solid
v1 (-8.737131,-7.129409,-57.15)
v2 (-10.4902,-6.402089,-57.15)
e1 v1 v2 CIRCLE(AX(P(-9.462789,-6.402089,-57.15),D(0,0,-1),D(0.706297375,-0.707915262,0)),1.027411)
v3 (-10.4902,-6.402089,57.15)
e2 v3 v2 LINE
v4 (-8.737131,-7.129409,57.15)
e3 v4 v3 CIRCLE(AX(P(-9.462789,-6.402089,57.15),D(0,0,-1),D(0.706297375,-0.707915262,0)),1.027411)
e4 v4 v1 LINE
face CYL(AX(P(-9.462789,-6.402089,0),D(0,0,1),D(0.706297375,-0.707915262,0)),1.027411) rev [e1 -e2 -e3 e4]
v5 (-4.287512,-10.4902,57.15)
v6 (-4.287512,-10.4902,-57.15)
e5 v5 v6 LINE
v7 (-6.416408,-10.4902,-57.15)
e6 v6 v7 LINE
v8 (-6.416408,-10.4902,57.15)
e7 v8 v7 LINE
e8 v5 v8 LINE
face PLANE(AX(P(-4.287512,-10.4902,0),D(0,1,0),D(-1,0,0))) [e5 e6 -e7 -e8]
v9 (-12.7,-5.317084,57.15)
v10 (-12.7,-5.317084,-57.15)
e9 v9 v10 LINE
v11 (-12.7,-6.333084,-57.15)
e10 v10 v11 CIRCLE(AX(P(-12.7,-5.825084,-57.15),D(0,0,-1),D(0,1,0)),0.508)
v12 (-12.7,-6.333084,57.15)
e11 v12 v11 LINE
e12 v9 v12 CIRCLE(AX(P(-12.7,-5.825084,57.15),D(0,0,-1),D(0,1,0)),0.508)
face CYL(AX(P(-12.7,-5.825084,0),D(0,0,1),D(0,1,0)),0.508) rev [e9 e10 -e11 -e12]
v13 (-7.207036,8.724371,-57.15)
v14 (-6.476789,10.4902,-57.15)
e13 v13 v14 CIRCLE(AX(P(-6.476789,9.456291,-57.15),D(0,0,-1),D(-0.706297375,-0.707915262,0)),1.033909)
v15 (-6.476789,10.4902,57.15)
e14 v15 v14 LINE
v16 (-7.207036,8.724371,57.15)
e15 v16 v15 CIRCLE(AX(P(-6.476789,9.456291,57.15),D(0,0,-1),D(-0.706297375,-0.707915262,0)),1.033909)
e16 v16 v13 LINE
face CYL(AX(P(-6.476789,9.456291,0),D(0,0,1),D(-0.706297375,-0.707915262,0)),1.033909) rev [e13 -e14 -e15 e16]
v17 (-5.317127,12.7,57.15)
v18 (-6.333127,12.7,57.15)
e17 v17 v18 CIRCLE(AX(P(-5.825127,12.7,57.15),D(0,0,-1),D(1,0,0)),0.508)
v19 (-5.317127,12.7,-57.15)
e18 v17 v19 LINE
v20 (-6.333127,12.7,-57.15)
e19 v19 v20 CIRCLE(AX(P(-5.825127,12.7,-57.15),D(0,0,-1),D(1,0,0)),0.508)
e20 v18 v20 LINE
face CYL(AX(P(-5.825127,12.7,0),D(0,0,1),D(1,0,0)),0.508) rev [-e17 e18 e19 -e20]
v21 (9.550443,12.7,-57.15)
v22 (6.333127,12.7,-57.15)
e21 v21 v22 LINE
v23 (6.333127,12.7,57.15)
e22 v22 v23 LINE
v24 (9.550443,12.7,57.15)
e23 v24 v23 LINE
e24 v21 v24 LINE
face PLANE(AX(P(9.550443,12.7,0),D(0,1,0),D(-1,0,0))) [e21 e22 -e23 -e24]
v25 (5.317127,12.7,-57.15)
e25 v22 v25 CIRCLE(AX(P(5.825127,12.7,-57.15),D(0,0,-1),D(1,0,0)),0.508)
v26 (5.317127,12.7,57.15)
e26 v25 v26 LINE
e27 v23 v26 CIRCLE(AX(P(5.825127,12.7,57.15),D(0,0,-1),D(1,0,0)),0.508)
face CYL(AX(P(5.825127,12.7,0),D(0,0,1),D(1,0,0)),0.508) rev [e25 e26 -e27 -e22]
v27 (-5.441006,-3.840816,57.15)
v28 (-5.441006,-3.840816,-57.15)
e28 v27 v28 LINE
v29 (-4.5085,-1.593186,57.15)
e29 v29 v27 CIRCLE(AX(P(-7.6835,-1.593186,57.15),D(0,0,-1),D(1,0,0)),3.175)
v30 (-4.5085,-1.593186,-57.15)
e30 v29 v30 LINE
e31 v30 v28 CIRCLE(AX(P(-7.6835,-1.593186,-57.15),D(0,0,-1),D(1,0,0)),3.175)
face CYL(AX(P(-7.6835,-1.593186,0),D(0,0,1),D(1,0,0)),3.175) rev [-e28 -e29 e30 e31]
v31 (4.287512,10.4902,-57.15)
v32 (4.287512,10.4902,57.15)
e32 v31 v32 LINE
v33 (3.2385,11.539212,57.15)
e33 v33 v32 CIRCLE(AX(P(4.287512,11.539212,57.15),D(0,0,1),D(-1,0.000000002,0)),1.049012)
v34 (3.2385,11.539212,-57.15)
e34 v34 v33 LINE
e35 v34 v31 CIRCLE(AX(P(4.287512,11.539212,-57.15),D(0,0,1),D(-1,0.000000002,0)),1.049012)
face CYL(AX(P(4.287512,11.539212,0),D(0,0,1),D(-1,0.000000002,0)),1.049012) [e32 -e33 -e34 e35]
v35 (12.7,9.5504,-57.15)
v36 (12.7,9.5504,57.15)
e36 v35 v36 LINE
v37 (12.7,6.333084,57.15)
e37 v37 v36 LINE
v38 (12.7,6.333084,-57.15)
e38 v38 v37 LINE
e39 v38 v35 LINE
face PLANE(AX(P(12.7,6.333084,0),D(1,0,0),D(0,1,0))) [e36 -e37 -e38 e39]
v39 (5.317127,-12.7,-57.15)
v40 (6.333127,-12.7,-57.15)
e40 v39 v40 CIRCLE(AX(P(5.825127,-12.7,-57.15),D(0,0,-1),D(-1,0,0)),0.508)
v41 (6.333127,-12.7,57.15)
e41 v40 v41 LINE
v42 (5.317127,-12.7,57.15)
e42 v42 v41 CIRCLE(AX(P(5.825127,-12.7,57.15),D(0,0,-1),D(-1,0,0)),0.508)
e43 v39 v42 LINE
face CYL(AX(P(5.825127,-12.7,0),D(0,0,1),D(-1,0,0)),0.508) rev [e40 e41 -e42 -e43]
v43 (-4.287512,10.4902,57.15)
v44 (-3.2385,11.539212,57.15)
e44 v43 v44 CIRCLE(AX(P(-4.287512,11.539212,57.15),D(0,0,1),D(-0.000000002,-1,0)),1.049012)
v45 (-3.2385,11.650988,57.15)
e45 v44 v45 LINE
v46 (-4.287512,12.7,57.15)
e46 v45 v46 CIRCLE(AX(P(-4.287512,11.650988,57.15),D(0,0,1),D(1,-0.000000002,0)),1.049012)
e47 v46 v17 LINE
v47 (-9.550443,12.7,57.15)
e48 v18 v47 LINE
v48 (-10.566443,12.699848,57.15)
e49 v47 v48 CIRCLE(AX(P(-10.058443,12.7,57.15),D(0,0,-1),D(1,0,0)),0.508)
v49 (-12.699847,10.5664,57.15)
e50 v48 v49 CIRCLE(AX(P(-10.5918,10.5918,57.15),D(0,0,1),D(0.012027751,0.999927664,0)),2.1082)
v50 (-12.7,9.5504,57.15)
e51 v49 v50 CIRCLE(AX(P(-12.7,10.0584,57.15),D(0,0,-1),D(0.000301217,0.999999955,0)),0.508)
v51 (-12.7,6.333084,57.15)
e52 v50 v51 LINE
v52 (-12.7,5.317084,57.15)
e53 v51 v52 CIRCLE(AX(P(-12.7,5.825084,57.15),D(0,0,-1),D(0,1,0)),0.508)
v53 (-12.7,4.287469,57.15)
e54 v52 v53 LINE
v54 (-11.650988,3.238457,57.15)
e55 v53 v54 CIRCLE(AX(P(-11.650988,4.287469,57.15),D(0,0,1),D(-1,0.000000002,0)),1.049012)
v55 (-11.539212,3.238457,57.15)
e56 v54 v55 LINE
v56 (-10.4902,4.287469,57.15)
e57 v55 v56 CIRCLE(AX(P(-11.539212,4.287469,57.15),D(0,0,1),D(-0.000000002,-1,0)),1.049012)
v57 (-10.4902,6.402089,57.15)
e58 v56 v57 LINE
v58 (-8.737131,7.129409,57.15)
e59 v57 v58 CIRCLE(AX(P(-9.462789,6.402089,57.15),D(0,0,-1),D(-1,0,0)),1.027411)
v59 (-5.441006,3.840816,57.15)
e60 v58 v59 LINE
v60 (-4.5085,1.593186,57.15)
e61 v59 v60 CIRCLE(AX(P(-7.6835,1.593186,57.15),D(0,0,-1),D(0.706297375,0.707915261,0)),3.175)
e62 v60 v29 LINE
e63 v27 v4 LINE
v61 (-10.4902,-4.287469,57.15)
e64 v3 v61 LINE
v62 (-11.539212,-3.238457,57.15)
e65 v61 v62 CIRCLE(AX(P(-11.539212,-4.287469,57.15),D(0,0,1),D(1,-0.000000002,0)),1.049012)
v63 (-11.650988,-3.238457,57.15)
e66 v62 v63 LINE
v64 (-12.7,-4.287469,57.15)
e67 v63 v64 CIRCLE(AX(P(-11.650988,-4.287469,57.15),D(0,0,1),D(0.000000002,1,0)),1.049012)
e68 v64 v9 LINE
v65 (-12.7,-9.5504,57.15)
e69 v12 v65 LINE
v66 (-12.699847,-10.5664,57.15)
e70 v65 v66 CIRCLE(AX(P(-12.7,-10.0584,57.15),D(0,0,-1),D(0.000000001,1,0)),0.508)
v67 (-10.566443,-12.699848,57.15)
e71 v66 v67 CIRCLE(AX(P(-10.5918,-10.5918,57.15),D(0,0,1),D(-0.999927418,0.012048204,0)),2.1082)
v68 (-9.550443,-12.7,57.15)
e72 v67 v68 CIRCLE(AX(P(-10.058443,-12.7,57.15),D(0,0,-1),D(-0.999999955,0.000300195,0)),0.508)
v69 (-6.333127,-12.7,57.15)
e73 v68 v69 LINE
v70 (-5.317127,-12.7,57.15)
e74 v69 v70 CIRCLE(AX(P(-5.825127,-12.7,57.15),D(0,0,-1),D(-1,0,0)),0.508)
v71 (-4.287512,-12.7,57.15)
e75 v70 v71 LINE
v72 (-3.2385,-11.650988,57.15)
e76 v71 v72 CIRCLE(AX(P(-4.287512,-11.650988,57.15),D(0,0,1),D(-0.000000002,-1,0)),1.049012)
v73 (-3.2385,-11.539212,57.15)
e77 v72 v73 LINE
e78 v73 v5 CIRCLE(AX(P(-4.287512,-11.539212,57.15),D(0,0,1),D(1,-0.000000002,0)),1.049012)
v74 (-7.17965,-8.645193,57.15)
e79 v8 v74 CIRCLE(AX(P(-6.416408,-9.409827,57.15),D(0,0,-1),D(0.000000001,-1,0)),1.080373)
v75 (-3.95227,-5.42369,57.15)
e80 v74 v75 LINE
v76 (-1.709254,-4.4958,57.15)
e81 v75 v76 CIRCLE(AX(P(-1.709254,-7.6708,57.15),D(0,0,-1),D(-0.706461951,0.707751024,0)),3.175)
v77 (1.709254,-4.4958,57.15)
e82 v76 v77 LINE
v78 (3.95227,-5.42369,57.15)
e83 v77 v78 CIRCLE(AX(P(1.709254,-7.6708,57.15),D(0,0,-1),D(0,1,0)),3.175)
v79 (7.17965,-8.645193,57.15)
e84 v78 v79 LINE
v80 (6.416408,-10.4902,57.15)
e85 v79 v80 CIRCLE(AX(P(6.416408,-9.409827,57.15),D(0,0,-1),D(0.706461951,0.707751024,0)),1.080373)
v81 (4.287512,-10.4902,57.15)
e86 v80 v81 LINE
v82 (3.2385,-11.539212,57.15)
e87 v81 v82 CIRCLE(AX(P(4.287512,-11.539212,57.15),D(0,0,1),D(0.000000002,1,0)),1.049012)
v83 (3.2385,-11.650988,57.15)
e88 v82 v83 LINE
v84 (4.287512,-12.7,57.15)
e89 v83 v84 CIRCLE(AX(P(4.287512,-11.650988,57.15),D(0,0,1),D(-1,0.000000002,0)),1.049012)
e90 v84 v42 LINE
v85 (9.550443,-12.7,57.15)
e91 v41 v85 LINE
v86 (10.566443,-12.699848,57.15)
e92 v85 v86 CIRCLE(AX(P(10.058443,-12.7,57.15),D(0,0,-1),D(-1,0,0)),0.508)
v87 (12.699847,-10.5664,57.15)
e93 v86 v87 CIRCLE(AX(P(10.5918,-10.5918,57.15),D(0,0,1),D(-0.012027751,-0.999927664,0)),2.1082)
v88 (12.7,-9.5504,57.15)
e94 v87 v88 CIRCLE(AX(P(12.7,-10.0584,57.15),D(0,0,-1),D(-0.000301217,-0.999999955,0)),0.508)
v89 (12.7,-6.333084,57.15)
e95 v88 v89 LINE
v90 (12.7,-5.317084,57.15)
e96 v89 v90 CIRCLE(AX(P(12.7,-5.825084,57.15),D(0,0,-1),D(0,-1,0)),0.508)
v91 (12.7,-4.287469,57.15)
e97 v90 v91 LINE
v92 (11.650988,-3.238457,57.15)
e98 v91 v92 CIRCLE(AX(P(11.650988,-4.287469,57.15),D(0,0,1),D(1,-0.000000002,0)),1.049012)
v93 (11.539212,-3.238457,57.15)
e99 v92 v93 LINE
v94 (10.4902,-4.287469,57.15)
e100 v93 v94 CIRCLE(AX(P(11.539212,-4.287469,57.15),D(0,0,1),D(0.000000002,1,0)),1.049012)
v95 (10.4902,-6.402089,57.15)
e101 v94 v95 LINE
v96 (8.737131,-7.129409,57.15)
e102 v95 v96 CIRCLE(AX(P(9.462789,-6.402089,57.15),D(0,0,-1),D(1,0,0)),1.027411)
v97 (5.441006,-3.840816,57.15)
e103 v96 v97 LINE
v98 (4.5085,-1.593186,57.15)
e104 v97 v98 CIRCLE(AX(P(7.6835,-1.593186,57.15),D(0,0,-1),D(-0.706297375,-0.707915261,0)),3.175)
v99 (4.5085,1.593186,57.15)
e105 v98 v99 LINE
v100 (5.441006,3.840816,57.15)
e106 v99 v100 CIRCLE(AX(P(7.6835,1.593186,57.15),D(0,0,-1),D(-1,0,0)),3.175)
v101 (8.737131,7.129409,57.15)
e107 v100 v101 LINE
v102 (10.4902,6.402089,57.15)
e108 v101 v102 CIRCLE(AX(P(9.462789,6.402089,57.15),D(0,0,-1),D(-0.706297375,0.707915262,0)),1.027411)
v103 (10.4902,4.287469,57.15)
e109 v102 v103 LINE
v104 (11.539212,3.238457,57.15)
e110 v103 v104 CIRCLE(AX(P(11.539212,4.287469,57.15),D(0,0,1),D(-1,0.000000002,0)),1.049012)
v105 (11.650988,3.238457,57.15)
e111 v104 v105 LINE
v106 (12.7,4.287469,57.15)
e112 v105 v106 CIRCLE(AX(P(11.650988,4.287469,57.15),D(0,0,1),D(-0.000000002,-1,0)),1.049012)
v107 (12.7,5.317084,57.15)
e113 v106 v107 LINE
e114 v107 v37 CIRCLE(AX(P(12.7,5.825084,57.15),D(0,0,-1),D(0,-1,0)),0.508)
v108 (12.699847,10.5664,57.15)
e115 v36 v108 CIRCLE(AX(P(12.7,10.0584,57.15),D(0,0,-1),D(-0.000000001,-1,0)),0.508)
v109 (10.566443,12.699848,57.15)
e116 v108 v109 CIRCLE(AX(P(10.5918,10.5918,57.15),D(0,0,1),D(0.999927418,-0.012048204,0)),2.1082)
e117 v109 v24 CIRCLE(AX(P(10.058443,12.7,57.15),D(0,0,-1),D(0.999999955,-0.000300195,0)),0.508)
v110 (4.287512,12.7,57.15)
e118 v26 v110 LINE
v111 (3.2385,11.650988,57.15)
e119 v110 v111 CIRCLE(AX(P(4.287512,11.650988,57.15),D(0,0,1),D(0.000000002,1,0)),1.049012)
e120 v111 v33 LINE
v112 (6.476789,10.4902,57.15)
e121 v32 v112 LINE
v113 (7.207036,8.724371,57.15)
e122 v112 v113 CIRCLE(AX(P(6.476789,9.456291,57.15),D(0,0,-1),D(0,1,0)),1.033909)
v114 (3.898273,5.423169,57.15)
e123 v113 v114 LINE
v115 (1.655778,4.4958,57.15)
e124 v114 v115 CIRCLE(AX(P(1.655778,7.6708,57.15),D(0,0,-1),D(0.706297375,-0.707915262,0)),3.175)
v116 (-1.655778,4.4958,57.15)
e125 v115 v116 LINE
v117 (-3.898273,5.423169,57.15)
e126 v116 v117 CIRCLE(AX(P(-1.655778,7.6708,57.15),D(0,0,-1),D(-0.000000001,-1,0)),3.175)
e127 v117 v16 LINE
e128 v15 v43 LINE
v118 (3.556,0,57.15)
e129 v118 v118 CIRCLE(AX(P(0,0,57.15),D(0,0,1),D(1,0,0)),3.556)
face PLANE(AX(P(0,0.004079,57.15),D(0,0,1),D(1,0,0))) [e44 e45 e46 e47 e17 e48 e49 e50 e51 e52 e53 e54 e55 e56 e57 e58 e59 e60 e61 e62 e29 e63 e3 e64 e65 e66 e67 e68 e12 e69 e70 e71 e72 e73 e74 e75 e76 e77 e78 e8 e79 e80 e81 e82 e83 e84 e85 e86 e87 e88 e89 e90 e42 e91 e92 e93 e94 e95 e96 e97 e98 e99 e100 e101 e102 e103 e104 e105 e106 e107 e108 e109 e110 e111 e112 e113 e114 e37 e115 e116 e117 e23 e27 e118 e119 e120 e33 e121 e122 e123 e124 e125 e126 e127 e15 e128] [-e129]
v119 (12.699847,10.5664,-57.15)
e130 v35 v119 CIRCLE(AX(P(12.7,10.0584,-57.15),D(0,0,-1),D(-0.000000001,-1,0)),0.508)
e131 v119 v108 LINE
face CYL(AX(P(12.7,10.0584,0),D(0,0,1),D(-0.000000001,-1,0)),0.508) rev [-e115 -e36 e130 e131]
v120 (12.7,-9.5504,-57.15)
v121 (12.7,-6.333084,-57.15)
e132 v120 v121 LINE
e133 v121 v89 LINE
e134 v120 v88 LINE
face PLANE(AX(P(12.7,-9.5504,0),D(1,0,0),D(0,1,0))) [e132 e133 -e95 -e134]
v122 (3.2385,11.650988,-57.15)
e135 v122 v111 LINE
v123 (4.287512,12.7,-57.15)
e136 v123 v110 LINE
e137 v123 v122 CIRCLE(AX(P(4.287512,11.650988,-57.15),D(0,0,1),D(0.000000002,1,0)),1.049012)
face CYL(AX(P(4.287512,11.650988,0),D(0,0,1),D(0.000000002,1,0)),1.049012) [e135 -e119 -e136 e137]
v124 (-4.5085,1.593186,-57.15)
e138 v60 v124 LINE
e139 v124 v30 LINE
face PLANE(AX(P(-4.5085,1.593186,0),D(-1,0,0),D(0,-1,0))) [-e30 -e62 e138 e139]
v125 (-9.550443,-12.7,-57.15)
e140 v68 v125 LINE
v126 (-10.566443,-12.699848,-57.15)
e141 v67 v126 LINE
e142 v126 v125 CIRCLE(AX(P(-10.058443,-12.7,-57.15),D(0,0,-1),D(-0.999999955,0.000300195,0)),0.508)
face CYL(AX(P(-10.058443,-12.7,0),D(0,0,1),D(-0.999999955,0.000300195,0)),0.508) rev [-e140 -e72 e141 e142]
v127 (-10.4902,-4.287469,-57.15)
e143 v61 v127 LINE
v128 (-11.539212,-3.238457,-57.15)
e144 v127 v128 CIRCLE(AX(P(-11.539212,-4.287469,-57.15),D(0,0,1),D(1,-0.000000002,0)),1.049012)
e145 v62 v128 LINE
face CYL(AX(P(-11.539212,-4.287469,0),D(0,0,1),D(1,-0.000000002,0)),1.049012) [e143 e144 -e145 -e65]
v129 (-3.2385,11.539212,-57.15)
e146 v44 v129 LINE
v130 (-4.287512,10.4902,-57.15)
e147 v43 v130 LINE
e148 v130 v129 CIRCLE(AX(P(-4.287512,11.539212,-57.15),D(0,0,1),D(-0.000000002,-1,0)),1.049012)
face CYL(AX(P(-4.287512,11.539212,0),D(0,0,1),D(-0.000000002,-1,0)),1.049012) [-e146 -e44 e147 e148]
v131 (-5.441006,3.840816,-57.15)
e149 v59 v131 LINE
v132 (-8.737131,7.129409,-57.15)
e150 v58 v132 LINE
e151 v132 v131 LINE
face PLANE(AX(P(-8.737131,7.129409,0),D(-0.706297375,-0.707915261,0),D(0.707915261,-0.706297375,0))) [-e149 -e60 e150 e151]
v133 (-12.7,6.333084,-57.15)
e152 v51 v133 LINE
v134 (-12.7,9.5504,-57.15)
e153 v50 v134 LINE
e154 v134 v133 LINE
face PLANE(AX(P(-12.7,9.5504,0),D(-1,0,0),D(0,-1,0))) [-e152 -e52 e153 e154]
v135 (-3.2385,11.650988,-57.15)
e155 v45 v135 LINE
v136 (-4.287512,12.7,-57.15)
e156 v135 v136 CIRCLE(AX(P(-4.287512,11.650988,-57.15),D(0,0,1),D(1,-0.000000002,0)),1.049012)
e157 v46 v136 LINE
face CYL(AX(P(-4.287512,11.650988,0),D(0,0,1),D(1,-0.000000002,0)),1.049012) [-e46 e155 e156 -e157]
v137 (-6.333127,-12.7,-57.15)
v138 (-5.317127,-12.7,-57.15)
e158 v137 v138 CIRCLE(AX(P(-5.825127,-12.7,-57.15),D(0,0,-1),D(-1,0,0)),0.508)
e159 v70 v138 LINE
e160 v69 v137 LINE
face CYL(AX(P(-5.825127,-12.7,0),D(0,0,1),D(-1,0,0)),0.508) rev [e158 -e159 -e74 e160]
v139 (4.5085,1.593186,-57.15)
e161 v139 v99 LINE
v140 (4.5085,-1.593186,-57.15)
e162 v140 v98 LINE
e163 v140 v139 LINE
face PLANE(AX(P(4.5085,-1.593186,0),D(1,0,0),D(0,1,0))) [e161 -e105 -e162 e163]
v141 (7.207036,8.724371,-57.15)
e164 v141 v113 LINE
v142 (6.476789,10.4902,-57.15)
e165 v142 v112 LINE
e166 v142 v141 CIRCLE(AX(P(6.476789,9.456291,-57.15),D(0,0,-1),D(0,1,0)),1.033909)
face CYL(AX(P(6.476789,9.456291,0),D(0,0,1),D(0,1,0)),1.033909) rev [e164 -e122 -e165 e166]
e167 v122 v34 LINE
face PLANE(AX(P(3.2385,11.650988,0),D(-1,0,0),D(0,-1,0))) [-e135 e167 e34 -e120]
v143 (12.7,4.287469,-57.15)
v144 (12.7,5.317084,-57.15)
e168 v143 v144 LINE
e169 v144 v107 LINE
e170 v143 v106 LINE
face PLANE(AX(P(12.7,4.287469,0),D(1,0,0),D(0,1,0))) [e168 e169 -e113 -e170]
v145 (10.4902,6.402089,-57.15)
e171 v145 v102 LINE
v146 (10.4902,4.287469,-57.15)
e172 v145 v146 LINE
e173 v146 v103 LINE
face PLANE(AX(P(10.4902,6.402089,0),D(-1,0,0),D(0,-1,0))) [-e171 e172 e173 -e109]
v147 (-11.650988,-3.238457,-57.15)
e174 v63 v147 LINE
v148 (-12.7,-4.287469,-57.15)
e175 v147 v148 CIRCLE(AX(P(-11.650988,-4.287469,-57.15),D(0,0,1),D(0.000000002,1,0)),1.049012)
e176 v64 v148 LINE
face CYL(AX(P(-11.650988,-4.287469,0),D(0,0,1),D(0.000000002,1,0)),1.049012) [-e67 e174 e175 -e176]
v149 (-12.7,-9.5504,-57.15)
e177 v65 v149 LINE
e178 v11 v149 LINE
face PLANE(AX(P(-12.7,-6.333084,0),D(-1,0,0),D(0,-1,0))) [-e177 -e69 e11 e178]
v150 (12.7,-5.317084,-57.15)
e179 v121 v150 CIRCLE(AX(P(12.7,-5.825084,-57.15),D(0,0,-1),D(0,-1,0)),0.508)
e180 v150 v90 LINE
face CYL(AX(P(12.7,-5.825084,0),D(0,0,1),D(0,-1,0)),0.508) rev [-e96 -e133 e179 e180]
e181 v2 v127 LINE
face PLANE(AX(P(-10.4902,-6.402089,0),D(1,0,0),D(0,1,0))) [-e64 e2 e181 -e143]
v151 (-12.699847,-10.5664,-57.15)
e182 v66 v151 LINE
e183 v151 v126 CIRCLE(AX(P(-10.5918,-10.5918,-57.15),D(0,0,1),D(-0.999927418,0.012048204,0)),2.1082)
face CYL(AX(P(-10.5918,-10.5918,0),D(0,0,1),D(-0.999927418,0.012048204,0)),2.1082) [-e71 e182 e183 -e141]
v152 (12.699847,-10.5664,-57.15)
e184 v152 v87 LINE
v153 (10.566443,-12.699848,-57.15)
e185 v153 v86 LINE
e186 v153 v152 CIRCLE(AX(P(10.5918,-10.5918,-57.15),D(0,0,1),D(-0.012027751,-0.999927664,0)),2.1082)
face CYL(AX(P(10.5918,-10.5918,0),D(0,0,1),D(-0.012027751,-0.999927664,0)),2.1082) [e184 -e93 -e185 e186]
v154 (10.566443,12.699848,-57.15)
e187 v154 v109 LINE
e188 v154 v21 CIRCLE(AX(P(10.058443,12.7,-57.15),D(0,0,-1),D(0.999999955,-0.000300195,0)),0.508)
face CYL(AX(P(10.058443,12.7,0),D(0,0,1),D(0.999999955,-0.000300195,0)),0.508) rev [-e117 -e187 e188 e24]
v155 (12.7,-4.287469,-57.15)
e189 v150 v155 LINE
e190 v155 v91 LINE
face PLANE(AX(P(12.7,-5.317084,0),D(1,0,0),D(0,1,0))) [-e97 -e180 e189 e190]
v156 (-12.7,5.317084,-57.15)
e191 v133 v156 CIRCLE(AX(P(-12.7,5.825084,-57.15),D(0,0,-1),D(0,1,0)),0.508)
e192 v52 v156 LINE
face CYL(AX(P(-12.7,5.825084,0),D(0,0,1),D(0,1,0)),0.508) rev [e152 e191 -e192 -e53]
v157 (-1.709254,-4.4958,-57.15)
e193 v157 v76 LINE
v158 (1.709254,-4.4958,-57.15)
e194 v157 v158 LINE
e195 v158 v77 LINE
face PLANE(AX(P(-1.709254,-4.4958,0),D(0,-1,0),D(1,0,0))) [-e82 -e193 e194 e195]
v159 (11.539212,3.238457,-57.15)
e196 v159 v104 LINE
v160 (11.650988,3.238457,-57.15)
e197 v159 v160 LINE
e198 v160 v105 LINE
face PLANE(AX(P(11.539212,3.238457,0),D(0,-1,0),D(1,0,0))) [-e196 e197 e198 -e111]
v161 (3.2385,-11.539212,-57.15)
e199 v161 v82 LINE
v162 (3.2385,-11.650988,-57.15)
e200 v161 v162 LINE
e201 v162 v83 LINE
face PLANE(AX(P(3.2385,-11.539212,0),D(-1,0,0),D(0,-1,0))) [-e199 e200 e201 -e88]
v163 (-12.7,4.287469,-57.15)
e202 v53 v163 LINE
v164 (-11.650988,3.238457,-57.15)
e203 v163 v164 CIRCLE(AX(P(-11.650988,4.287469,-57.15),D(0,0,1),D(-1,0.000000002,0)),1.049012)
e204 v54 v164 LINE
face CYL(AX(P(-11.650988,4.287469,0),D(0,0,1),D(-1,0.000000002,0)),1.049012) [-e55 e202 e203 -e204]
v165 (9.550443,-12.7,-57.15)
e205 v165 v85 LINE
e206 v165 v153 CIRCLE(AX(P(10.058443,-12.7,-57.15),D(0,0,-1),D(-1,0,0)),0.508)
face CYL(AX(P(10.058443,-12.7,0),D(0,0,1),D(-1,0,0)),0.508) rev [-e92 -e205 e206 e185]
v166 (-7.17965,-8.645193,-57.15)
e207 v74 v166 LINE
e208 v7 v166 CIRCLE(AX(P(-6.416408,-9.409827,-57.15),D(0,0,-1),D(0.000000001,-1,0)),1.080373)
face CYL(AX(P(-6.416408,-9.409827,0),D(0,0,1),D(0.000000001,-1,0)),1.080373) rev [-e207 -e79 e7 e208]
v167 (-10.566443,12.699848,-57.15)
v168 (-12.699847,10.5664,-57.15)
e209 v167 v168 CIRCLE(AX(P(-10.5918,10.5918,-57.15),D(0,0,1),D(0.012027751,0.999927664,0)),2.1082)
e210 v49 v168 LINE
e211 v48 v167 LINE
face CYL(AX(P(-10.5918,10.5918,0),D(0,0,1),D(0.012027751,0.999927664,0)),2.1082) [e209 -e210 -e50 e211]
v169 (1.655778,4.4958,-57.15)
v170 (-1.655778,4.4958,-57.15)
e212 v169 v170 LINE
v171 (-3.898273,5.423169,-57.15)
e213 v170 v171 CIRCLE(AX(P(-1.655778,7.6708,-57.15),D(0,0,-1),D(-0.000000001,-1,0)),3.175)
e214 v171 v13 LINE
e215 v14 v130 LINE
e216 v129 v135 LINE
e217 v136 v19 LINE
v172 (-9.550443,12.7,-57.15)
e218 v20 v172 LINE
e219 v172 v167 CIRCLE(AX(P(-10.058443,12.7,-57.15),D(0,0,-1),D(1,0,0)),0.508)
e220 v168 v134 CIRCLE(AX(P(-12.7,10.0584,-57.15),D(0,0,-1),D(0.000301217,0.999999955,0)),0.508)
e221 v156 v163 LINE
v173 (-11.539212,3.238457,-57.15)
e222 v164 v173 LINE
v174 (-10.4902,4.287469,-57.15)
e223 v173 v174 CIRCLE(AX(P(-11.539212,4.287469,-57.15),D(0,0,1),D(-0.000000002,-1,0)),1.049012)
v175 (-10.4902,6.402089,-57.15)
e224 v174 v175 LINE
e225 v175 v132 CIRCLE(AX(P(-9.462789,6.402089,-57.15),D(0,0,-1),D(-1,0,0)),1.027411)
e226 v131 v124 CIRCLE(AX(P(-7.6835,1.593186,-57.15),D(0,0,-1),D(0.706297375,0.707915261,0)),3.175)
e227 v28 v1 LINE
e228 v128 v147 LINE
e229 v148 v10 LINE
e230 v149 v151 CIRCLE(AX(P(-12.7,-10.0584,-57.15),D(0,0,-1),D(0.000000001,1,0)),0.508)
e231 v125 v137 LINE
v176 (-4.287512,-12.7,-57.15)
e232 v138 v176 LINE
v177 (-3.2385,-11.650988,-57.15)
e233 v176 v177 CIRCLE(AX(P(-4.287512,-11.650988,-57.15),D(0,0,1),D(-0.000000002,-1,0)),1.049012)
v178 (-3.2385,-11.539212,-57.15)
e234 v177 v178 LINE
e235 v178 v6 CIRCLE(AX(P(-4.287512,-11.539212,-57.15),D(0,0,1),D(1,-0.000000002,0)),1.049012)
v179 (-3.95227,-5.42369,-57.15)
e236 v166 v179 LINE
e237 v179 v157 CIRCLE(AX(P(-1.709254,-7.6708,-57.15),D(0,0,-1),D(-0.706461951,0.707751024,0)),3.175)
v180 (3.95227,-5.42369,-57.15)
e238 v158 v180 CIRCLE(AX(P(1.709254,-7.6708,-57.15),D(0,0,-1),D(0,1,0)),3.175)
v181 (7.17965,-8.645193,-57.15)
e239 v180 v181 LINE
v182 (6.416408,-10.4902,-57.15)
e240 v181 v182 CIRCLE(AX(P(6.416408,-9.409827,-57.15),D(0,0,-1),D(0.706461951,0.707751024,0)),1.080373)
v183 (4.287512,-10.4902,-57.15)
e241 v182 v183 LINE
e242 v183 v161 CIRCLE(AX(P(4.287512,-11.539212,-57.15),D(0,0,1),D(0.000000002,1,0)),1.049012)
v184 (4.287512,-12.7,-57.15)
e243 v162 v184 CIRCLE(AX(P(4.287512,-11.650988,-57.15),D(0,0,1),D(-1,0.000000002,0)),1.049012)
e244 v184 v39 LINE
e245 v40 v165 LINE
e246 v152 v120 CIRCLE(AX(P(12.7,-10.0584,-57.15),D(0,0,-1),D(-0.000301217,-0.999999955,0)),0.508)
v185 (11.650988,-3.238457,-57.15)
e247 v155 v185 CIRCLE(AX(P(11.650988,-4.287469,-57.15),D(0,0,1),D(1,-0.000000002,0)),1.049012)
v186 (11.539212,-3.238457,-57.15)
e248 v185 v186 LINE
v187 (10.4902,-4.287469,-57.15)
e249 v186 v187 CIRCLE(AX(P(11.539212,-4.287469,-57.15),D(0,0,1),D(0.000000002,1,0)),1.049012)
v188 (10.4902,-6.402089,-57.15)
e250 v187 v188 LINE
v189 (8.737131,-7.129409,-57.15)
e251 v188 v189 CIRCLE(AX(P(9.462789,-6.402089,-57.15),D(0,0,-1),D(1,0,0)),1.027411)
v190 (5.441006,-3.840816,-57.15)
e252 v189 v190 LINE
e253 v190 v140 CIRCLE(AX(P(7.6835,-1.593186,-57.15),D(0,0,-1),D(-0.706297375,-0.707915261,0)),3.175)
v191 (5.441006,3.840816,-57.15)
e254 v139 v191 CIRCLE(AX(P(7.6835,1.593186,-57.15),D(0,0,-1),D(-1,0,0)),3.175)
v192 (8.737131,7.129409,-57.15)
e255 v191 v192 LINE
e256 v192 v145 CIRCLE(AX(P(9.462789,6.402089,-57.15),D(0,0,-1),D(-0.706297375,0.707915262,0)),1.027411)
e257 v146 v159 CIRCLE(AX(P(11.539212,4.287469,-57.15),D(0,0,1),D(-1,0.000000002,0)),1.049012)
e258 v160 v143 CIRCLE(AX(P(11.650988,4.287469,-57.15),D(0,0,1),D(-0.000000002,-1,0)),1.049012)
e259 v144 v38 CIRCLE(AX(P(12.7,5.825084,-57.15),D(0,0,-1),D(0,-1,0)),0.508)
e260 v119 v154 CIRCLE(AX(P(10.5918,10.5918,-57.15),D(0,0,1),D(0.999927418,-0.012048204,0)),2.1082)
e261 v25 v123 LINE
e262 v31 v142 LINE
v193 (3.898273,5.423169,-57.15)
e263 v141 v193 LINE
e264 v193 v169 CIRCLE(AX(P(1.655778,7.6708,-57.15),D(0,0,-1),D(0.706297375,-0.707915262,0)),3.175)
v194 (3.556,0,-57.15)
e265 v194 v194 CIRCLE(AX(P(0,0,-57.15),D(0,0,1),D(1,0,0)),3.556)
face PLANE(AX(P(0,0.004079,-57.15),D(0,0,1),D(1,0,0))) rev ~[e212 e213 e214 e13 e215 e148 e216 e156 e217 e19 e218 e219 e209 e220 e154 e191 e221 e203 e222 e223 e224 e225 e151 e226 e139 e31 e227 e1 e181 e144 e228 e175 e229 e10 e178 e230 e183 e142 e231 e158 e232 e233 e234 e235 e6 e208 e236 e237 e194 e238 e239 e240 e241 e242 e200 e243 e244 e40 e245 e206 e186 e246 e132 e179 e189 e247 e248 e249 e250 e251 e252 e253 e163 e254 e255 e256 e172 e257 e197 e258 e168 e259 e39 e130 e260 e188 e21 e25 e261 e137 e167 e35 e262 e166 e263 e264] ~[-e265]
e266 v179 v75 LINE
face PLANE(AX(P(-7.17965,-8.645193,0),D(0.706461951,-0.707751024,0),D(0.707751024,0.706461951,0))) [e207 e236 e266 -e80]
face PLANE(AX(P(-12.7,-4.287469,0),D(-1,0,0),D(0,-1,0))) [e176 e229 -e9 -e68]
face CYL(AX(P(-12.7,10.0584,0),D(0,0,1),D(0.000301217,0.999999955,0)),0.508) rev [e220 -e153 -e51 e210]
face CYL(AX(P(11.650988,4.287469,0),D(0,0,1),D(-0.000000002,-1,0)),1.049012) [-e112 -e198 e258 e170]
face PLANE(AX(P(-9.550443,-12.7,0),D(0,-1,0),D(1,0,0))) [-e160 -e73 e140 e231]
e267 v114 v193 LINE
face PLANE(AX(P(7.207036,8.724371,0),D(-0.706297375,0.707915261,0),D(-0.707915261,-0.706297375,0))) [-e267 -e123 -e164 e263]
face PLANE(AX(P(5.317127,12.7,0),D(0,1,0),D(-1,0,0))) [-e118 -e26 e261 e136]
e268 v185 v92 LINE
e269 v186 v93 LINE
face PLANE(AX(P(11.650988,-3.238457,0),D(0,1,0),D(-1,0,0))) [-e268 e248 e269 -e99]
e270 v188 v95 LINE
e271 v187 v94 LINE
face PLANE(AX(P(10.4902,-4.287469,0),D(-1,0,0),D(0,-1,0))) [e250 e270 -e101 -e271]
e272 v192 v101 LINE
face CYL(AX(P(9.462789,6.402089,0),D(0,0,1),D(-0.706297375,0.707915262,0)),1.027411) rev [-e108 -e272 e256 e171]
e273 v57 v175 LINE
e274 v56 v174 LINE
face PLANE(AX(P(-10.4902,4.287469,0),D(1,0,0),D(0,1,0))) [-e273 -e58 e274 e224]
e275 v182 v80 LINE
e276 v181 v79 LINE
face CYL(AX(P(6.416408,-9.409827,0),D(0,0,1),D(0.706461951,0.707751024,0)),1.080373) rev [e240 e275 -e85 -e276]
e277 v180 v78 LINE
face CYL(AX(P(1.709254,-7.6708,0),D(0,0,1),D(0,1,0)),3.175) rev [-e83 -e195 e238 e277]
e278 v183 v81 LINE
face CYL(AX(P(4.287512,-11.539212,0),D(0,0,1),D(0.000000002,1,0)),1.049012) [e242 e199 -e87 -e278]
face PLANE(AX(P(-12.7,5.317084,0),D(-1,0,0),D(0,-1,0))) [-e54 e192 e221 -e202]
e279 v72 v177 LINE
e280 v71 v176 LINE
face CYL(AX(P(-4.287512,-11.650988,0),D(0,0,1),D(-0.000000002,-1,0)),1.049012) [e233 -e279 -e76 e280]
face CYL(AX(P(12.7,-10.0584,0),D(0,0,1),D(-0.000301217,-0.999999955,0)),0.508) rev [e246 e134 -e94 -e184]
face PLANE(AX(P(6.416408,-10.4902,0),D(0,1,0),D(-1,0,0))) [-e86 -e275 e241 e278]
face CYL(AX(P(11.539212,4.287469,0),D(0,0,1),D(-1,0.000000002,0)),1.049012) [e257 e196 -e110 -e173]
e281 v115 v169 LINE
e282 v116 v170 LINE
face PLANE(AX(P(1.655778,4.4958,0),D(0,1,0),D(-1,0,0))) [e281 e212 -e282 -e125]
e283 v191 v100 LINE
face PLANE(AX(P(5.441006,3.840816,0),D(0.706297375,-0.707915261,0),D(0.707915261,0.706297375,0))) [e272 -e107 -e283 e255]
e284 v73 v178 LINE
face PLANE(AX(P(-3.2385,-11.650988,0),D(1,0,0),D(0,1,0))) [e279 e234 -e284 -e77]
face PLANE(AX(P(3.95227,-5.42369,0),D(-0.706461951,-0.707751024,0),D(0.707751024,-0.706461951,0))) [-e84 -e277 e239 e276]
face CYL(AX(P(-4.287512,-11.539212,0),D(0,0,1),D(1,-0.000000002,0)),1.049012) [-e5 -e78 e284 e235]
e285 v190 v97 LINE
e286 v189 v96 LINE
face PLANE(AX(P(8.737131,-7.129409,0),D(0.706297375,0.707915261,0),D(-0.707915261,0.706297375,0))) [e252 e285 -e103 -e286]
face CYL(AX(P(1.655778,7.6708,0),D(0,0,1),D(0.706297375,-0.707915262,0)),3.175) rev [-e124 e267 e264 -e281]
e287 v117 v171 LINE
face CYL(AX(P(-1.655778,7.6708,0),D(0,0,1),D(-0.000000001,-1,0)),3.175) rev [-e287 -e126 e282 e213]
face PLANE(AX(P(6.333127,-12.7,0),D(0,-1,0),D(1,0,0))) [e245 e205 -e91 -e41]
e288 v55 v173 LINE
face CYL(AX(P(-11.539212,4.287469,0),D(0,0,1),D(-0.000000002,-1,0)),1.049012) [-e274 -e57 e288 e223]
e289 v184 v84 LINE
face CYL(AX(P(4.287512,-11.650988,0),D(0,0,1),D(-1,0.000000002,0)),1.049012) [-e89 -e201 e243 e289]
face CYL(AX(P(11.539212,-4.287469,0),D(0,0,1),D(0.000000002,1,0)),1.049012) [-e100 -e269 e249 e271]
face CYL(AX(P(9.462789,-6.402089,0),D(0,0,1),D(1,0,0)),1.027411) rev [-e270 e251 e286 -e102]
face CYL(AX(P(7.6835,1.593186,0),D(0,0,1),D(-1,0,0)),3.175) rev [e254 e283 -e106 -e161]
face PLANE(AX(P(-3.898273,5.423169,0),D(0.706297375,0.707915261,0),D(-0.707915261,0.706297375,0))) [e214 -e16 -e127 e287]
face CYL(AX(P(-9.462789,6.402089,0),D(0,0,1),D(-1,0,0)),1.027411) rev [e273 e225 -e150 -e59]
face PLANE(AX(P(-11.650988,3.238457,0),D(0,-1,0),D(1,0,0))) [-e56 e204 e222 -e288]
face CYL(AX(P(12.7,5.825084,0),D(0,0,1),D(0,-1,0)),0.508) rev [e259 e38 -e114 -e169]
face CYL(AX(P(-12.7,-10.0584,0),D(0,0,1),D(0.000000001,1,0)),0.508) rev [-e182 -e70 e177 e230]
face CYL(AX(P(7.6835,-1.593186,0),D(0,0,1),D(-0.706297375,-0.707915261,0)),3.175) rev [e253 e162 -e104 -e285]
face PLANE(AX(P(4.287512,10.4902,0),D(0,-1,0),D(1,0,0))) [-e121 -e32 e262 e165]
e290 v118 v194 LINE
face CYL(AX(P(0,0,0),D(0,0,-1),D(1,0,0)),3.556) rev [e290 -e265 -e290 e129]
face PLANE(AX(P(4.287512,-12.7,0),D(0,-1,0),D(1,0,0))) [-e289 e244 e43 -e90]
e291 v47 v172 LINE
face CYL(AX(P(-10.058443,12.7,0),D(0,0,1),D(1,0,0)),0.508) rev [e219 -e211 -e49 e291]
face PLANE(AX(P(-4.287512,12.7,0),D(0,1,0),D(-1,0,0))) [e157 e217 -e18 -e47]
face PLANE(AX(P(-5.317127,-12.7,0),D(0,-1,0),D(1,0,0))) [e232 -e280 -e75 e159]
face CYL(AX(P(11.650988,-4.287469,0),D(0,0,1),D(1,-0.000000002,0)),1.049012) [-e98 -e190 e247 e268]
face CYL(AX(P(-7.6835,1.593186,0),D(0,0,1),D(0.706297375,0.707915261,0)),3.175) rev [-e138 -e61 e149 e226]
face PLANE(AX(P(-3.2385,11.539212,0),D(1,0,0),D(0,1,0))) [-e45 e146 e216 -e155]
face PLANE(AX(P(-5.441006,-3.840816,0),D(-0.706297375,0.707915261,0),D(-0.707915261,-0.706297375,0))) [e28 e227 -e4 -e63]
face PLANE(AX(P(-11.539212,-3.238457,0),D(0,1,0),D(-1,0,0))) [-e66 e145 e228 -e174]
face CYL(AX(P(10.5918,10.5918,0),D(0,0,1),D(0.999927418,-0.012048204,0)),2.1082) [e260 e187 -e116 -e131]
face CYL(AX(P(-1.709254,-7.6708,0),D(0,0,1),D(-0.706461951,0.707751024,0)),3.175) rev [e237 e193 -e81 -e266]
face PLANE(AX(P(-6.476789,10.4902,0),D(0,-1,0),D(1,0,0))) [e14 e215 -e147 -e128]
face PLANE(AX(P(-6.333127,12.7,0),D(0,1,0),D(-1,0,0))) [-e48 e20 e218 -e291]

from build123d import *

# Parameters (mm, degrees)
SKETCH1_R           = 3.556
BOSS_EXTRUDE1_DEPTH = 57.15


with BuildPart() as part:
    # Sketch1 → Boss-Extrude1 (new body, symmetric)
    with BuildSketch(Plane.XY):
        with BuildLine():
            Line((-7.179650497, -8.645192506), (-3.952270251, -5.423690499))
            ThreePointArc((-3.952270251, -5.423690499), (-2.922936451, -4.736929036), (-1.709253557, -4.4958))
            Line((-1.709253557, -4.4958), (1.709253557, -4.4958))
            ThreePointArc((1.709253557, -4.4958), (2.922936451, -4.736929036), (3.952270251, -5.423690499))
            Line((3.952270251, -5.423690499), (7.179650497, -8.645192506))
            ThreePointArc((7.179650497, -8.645192506), (7.41473083, -9.822813117), (6.416408329, -10.4902))
            Line((6.416408329, -10.4902), (4.287512407, -10.4902))
            ThreePointArc((4.287512407, -10.4902), (3.54574862, -10.79744862), (3.2385, -11.539212407))
            Line((3.2385, -11.539212407), (3.2385, -11.650987593))
            ThreePointArc((3.2385, -11.650987593), (3.54574862, -12.39275138), (4.287512407, -12.7))
            Line((4.287512407, -12.7), (5.317126718, -12.7))
            ThreePointArc((5.317126718, -12.7), (5.825126718, -12.192), (6.333126718, -12.7))
            Line((6.333126718, -12.7), (9.550443118, -12.7))
            ThreePointArc((9.550443118, -12.7), (10.058366869, -12.192000006), (10.566443095, -12.699847501))
            ThreePointArc((10.566443095, -12.699847501), (12.082537762, -12.08250727), (12.699846982, -10.566399977))
            ThreePointArc((12.699846982, -10.566399977), (12.192000006, -10.058323491), (12.7, -9.5504))
            Line((12.7, -9.5504), (12.7, -6.3330836))
            ThreePointArc((12.7, -6.3330836), (12.192, -5.8250836), (12.7, -5.3170836))
            Line((12.7, -5.3170836), (12.7, -4.287469289))
            ThreePointArc((12.7, -4.287469289), (12.39275138, -3.545705502), (11.650987593, -3.238456882))
            Line((11.650987593, -3.238456882), (11.539212407, -3.238456882))
            ThreePointArc((11.539212407, -3.238456882), (10.79744862, -3.545705502), (10.4902, -4.287469289))
            Line((10.4902, -4.287469289), (10.4902, -6.402089023))
            ThreePointArc((10.4902, -6.402089023), (9.856505071, -7.351067942), (8.737131347, -7.129408934))
            Line((8.737131347, -7.129408934), (5.441005833, -3.840816462))
            ThreePointArc((5.441005833, -3.840816462), (4.750877967, -2.809883091), (4.5085, -1.593185507))
            Line((4.5085, -1.593185507), (4.5085, 1.593185507))
            ThreePointArc((4.5085, 1.593185507), (4.750877967, 2.809883091), (5.441005833, 3.840816462))
            Line((5.441005833, 3.840816462), (8.737131347, 7.129408934))
            ThreePointArc((8.737131347, 7.129408934), (9.856505071, 7.351067942), (10.4902, 6.402089023))
            Line((10.4902, 6.402089023), (10.4902, 4.287469289))
            ThreePointArc((10.4902, 4.287469289), (10.79744862, 3.545705502), (11.539212407, 3.238456882))
            Line((11.539212407, 3.238456882), (11.650987593, 3.238456882))
            ThreePointArc((11.650987593, 3.238456882), (12.39275138, 3.545705502), (12.7, 4.287469289))
            Line((12.7, 4.287469289), (12.7, 5.3170836))
            ThreePointArc((12.7, 5.3170836), (12.192, 5.8250836), (12.7, 6.3330836))
            Line((12.7, 6.3330836), (12.7, 9.5504))
            ThreePointArc((12.7, 9.5504), (12.192000006, 10.058323491), (12.699846982, 10.566399977))
            ThreePointArc((12.699846982, 10.566399977), (12.082537762, 12.08250727), (10.566443095, 12.699847501))
            ThreePointArc((10.566443095, 12.699847501), (10.058366869, 12.192000006), (9.550443118, 12.7))
            Line((9.550443118, 12.7), (6.333126718, 12.7))
            ThreePointArc((6.333126718, 12.7), (5.825126718, 12.192), (5.317126718, 12.7))
            Line((5.317126718, 12.7), (4.287512407, 12.7))
            ThreePointArc((4.287512407, 12.7), (3.54574862, 12.39275138), (3.2385, 11.650987593))
            Line((3.2385, 11.650987593), (3.2385, 11.539212407))
            ThreePointArc((3.2385, 11.539212407), (3.54574862, 10.79744862), (4.287512407, 10.4902))
            Line((4.287512407, 10.4902), (6.476788598, 10.4902))
            ThreePointArc((6.476788598, 10.4902), (7.432222385, 9.85140422), (7.207036008, 8.724370562))
            Line((7.207036008, 8.724370562), (3.898272566, 5.423169045))
            ThreePointArc((3.898272566, 5.423169045), (2.869120213, 4.736787962), (1.655778399, 4.4958))
            Line((1.655778399, 4.4958), (-1.655778399, 4.4958))
            ThreePointArc((-1.655778399, 4.4958), (-2.869120213, 4.736787962), (-3.898272566, 5.423169045))
            Line((-3.898272566, 5.423169045), (-7.207036008, 8.724370562))
            ThreePointArc((-7.207036008, 8.724370562), (-7.432222385, 9.85140422), (-6.476788598, 10.4902))
            Line((-6.476788598, 10.4902), (-4.287512407, 10.4902))
            ThreePointArc((-4.287512407, 10.4902), (-3.54574862, 10.79744862), (-3.2385, 11.539212407))
            Line((-3.2385, 11.539212407), (-3.2385, 11.650987593))
            ThreePointArc((-3.2385, 11.650987593), (-3.54574862, 12.39275138), (-4.287512407, 12.7))
            Line((-4.287512407, 12.7), (-5.317126718, 12.7))
            ThreePointArc((-5.317126718, 12.7), (-5.825126718, 12.192), (-6.333126718, 12.7))
            Line((-6.333126718, 12.7), (-9.550443118, 12.7))
            ThreePointArc((-9.550443118, 12.7), (-10.058366869, 12.192000006), (-10.566443095, 12.699847501))
            ThreePointArc((-10.566443095, 12.699847501), (-12.082537762, 12.08250727), (-12.699846982, 10.566399977))
            ThreePointArc((-12.699846982, 10.566399977), (-12.192000006, 10.058323491), (-12.7, 9.5504))
            Line((-12.7, 9.5504), (-12.7, 6.3330836))
            ThreePointArc((-12.7, 6.3330836), (-12.192, 5.8250836), (-12.7, 5.3170836))
            Line((-12.7, 5.3170836), (-12.7, 4.287469289))
            ThreePointArc((-12.7, 4.287469289), (-12.39275138, 3.545705502), (-11.650987593, 3.238456882))
            Line((-11.650987593, 3.238456882), (-11.539212407, 3.238456882))
            ThreePointArc((-11.539212407, 3.238456882), (-10.79744862, 3.545705502), (-10.4902, 4.287469289))
            Line((-10.4902, 4.287469289), (-10.4902, 6.402089023))
            ThreePointArc((-10.4902, 6.402089023), (-9.856505071, 7.351067942), (-8.737131347, 7.129408934))
            Line((-8.737131347, 7.129408934), (-5.441005833, 3.840816462))
            ThreePointArc((-5.441005833, 3.840816462), (-4.750877967, 2.809883091), (-4.5085, 1.593185507))
            Line((-4.5085, 1.593185507), (-4.5085, -1.593185507))
            ThreePointArc((-4.5085, -1.593185507), (-4.750877967, -2.809883091), (-5.441005833, -3.840816462))
            Line((-5.441005833, -3.840816462), (-8.737131347, -7.129408934))
            ThreePointArc((-8.737131347, -7.129408934), (-9.856505071, -7.351067942), (-10.4902, -6.402089023))
            Line((-10.4902, -6.402089023), (-10.4902, -4.287469289))
            ThreePointArc((-10.4902, -4.287469289), (-10.79744862, -3.545705502), (-11.539212407, -3.238456882))
            Line((-11.539212407, -3.238456882), (-11.650987593, -3.238456882))
            ThreePointArc((-11.650987593, -3.238456882), (-12.39275138, -3.545705502), (-12.7, -4.287469289))
            Line((-12.7, -4.287469289), (-12.7, -5.3170836))
            ThreePointArc((-12.7, -5.3170836), (-12.192, -5.8250836), (-12.7, -6.3330836))
            Line((-12.7, -6.3330836), (-12.7, -9.5504))
            ThreePointArc((-12.7, -9.5504), (-12.192000006, -10.058323491), (-12.699846982, -10.566399977))
            ThreePointArc((-12.699846982, -10.566399977), (-12.082537762, -12.08250727), (-10.566443095, -12.699847501))
            ThreePointArc((-10.566443095, -12.699847501), (-10.058366869, -12.192000006), (-9.550443118, -12.7))
            Line((-9.550443118, -12.7), (-6.333126718, -12.7))
            ThreePointArc((-6.333126718, -12.7), (-5.825126718, -12.192), (-5.317126718, -12.7))
            Line((-5.317126718, -12.7), (-4.287512407, -12.7))
            ThreePointArc((-4.287512407, -12.7), (-3.54574862, -12.39275138), (-3.2385, -11.650987593))
            Line((-3.2385, -11.650987593), (-3.2385, -11.539212407))
            ThreePointArc((-3.2385, -11.539212407), (-3.54574862, -10.79744862), (-4.287512407, -10.4902))
            Line((-4.287512407, -10.4902), (-6.416408329, -10.4902))
            ThreePointArc((-6.416408329, -10.4902), (-7.41473083, -9.822813117), (-7.179650497, -8.645192506))
        make_face()
        Circle(SKETCH1_R, mode=Mode.SUBTRACT)
    extrude(amount=BOSS_EXTRUDE1_DEPTH, both=True)


solid = part.part
